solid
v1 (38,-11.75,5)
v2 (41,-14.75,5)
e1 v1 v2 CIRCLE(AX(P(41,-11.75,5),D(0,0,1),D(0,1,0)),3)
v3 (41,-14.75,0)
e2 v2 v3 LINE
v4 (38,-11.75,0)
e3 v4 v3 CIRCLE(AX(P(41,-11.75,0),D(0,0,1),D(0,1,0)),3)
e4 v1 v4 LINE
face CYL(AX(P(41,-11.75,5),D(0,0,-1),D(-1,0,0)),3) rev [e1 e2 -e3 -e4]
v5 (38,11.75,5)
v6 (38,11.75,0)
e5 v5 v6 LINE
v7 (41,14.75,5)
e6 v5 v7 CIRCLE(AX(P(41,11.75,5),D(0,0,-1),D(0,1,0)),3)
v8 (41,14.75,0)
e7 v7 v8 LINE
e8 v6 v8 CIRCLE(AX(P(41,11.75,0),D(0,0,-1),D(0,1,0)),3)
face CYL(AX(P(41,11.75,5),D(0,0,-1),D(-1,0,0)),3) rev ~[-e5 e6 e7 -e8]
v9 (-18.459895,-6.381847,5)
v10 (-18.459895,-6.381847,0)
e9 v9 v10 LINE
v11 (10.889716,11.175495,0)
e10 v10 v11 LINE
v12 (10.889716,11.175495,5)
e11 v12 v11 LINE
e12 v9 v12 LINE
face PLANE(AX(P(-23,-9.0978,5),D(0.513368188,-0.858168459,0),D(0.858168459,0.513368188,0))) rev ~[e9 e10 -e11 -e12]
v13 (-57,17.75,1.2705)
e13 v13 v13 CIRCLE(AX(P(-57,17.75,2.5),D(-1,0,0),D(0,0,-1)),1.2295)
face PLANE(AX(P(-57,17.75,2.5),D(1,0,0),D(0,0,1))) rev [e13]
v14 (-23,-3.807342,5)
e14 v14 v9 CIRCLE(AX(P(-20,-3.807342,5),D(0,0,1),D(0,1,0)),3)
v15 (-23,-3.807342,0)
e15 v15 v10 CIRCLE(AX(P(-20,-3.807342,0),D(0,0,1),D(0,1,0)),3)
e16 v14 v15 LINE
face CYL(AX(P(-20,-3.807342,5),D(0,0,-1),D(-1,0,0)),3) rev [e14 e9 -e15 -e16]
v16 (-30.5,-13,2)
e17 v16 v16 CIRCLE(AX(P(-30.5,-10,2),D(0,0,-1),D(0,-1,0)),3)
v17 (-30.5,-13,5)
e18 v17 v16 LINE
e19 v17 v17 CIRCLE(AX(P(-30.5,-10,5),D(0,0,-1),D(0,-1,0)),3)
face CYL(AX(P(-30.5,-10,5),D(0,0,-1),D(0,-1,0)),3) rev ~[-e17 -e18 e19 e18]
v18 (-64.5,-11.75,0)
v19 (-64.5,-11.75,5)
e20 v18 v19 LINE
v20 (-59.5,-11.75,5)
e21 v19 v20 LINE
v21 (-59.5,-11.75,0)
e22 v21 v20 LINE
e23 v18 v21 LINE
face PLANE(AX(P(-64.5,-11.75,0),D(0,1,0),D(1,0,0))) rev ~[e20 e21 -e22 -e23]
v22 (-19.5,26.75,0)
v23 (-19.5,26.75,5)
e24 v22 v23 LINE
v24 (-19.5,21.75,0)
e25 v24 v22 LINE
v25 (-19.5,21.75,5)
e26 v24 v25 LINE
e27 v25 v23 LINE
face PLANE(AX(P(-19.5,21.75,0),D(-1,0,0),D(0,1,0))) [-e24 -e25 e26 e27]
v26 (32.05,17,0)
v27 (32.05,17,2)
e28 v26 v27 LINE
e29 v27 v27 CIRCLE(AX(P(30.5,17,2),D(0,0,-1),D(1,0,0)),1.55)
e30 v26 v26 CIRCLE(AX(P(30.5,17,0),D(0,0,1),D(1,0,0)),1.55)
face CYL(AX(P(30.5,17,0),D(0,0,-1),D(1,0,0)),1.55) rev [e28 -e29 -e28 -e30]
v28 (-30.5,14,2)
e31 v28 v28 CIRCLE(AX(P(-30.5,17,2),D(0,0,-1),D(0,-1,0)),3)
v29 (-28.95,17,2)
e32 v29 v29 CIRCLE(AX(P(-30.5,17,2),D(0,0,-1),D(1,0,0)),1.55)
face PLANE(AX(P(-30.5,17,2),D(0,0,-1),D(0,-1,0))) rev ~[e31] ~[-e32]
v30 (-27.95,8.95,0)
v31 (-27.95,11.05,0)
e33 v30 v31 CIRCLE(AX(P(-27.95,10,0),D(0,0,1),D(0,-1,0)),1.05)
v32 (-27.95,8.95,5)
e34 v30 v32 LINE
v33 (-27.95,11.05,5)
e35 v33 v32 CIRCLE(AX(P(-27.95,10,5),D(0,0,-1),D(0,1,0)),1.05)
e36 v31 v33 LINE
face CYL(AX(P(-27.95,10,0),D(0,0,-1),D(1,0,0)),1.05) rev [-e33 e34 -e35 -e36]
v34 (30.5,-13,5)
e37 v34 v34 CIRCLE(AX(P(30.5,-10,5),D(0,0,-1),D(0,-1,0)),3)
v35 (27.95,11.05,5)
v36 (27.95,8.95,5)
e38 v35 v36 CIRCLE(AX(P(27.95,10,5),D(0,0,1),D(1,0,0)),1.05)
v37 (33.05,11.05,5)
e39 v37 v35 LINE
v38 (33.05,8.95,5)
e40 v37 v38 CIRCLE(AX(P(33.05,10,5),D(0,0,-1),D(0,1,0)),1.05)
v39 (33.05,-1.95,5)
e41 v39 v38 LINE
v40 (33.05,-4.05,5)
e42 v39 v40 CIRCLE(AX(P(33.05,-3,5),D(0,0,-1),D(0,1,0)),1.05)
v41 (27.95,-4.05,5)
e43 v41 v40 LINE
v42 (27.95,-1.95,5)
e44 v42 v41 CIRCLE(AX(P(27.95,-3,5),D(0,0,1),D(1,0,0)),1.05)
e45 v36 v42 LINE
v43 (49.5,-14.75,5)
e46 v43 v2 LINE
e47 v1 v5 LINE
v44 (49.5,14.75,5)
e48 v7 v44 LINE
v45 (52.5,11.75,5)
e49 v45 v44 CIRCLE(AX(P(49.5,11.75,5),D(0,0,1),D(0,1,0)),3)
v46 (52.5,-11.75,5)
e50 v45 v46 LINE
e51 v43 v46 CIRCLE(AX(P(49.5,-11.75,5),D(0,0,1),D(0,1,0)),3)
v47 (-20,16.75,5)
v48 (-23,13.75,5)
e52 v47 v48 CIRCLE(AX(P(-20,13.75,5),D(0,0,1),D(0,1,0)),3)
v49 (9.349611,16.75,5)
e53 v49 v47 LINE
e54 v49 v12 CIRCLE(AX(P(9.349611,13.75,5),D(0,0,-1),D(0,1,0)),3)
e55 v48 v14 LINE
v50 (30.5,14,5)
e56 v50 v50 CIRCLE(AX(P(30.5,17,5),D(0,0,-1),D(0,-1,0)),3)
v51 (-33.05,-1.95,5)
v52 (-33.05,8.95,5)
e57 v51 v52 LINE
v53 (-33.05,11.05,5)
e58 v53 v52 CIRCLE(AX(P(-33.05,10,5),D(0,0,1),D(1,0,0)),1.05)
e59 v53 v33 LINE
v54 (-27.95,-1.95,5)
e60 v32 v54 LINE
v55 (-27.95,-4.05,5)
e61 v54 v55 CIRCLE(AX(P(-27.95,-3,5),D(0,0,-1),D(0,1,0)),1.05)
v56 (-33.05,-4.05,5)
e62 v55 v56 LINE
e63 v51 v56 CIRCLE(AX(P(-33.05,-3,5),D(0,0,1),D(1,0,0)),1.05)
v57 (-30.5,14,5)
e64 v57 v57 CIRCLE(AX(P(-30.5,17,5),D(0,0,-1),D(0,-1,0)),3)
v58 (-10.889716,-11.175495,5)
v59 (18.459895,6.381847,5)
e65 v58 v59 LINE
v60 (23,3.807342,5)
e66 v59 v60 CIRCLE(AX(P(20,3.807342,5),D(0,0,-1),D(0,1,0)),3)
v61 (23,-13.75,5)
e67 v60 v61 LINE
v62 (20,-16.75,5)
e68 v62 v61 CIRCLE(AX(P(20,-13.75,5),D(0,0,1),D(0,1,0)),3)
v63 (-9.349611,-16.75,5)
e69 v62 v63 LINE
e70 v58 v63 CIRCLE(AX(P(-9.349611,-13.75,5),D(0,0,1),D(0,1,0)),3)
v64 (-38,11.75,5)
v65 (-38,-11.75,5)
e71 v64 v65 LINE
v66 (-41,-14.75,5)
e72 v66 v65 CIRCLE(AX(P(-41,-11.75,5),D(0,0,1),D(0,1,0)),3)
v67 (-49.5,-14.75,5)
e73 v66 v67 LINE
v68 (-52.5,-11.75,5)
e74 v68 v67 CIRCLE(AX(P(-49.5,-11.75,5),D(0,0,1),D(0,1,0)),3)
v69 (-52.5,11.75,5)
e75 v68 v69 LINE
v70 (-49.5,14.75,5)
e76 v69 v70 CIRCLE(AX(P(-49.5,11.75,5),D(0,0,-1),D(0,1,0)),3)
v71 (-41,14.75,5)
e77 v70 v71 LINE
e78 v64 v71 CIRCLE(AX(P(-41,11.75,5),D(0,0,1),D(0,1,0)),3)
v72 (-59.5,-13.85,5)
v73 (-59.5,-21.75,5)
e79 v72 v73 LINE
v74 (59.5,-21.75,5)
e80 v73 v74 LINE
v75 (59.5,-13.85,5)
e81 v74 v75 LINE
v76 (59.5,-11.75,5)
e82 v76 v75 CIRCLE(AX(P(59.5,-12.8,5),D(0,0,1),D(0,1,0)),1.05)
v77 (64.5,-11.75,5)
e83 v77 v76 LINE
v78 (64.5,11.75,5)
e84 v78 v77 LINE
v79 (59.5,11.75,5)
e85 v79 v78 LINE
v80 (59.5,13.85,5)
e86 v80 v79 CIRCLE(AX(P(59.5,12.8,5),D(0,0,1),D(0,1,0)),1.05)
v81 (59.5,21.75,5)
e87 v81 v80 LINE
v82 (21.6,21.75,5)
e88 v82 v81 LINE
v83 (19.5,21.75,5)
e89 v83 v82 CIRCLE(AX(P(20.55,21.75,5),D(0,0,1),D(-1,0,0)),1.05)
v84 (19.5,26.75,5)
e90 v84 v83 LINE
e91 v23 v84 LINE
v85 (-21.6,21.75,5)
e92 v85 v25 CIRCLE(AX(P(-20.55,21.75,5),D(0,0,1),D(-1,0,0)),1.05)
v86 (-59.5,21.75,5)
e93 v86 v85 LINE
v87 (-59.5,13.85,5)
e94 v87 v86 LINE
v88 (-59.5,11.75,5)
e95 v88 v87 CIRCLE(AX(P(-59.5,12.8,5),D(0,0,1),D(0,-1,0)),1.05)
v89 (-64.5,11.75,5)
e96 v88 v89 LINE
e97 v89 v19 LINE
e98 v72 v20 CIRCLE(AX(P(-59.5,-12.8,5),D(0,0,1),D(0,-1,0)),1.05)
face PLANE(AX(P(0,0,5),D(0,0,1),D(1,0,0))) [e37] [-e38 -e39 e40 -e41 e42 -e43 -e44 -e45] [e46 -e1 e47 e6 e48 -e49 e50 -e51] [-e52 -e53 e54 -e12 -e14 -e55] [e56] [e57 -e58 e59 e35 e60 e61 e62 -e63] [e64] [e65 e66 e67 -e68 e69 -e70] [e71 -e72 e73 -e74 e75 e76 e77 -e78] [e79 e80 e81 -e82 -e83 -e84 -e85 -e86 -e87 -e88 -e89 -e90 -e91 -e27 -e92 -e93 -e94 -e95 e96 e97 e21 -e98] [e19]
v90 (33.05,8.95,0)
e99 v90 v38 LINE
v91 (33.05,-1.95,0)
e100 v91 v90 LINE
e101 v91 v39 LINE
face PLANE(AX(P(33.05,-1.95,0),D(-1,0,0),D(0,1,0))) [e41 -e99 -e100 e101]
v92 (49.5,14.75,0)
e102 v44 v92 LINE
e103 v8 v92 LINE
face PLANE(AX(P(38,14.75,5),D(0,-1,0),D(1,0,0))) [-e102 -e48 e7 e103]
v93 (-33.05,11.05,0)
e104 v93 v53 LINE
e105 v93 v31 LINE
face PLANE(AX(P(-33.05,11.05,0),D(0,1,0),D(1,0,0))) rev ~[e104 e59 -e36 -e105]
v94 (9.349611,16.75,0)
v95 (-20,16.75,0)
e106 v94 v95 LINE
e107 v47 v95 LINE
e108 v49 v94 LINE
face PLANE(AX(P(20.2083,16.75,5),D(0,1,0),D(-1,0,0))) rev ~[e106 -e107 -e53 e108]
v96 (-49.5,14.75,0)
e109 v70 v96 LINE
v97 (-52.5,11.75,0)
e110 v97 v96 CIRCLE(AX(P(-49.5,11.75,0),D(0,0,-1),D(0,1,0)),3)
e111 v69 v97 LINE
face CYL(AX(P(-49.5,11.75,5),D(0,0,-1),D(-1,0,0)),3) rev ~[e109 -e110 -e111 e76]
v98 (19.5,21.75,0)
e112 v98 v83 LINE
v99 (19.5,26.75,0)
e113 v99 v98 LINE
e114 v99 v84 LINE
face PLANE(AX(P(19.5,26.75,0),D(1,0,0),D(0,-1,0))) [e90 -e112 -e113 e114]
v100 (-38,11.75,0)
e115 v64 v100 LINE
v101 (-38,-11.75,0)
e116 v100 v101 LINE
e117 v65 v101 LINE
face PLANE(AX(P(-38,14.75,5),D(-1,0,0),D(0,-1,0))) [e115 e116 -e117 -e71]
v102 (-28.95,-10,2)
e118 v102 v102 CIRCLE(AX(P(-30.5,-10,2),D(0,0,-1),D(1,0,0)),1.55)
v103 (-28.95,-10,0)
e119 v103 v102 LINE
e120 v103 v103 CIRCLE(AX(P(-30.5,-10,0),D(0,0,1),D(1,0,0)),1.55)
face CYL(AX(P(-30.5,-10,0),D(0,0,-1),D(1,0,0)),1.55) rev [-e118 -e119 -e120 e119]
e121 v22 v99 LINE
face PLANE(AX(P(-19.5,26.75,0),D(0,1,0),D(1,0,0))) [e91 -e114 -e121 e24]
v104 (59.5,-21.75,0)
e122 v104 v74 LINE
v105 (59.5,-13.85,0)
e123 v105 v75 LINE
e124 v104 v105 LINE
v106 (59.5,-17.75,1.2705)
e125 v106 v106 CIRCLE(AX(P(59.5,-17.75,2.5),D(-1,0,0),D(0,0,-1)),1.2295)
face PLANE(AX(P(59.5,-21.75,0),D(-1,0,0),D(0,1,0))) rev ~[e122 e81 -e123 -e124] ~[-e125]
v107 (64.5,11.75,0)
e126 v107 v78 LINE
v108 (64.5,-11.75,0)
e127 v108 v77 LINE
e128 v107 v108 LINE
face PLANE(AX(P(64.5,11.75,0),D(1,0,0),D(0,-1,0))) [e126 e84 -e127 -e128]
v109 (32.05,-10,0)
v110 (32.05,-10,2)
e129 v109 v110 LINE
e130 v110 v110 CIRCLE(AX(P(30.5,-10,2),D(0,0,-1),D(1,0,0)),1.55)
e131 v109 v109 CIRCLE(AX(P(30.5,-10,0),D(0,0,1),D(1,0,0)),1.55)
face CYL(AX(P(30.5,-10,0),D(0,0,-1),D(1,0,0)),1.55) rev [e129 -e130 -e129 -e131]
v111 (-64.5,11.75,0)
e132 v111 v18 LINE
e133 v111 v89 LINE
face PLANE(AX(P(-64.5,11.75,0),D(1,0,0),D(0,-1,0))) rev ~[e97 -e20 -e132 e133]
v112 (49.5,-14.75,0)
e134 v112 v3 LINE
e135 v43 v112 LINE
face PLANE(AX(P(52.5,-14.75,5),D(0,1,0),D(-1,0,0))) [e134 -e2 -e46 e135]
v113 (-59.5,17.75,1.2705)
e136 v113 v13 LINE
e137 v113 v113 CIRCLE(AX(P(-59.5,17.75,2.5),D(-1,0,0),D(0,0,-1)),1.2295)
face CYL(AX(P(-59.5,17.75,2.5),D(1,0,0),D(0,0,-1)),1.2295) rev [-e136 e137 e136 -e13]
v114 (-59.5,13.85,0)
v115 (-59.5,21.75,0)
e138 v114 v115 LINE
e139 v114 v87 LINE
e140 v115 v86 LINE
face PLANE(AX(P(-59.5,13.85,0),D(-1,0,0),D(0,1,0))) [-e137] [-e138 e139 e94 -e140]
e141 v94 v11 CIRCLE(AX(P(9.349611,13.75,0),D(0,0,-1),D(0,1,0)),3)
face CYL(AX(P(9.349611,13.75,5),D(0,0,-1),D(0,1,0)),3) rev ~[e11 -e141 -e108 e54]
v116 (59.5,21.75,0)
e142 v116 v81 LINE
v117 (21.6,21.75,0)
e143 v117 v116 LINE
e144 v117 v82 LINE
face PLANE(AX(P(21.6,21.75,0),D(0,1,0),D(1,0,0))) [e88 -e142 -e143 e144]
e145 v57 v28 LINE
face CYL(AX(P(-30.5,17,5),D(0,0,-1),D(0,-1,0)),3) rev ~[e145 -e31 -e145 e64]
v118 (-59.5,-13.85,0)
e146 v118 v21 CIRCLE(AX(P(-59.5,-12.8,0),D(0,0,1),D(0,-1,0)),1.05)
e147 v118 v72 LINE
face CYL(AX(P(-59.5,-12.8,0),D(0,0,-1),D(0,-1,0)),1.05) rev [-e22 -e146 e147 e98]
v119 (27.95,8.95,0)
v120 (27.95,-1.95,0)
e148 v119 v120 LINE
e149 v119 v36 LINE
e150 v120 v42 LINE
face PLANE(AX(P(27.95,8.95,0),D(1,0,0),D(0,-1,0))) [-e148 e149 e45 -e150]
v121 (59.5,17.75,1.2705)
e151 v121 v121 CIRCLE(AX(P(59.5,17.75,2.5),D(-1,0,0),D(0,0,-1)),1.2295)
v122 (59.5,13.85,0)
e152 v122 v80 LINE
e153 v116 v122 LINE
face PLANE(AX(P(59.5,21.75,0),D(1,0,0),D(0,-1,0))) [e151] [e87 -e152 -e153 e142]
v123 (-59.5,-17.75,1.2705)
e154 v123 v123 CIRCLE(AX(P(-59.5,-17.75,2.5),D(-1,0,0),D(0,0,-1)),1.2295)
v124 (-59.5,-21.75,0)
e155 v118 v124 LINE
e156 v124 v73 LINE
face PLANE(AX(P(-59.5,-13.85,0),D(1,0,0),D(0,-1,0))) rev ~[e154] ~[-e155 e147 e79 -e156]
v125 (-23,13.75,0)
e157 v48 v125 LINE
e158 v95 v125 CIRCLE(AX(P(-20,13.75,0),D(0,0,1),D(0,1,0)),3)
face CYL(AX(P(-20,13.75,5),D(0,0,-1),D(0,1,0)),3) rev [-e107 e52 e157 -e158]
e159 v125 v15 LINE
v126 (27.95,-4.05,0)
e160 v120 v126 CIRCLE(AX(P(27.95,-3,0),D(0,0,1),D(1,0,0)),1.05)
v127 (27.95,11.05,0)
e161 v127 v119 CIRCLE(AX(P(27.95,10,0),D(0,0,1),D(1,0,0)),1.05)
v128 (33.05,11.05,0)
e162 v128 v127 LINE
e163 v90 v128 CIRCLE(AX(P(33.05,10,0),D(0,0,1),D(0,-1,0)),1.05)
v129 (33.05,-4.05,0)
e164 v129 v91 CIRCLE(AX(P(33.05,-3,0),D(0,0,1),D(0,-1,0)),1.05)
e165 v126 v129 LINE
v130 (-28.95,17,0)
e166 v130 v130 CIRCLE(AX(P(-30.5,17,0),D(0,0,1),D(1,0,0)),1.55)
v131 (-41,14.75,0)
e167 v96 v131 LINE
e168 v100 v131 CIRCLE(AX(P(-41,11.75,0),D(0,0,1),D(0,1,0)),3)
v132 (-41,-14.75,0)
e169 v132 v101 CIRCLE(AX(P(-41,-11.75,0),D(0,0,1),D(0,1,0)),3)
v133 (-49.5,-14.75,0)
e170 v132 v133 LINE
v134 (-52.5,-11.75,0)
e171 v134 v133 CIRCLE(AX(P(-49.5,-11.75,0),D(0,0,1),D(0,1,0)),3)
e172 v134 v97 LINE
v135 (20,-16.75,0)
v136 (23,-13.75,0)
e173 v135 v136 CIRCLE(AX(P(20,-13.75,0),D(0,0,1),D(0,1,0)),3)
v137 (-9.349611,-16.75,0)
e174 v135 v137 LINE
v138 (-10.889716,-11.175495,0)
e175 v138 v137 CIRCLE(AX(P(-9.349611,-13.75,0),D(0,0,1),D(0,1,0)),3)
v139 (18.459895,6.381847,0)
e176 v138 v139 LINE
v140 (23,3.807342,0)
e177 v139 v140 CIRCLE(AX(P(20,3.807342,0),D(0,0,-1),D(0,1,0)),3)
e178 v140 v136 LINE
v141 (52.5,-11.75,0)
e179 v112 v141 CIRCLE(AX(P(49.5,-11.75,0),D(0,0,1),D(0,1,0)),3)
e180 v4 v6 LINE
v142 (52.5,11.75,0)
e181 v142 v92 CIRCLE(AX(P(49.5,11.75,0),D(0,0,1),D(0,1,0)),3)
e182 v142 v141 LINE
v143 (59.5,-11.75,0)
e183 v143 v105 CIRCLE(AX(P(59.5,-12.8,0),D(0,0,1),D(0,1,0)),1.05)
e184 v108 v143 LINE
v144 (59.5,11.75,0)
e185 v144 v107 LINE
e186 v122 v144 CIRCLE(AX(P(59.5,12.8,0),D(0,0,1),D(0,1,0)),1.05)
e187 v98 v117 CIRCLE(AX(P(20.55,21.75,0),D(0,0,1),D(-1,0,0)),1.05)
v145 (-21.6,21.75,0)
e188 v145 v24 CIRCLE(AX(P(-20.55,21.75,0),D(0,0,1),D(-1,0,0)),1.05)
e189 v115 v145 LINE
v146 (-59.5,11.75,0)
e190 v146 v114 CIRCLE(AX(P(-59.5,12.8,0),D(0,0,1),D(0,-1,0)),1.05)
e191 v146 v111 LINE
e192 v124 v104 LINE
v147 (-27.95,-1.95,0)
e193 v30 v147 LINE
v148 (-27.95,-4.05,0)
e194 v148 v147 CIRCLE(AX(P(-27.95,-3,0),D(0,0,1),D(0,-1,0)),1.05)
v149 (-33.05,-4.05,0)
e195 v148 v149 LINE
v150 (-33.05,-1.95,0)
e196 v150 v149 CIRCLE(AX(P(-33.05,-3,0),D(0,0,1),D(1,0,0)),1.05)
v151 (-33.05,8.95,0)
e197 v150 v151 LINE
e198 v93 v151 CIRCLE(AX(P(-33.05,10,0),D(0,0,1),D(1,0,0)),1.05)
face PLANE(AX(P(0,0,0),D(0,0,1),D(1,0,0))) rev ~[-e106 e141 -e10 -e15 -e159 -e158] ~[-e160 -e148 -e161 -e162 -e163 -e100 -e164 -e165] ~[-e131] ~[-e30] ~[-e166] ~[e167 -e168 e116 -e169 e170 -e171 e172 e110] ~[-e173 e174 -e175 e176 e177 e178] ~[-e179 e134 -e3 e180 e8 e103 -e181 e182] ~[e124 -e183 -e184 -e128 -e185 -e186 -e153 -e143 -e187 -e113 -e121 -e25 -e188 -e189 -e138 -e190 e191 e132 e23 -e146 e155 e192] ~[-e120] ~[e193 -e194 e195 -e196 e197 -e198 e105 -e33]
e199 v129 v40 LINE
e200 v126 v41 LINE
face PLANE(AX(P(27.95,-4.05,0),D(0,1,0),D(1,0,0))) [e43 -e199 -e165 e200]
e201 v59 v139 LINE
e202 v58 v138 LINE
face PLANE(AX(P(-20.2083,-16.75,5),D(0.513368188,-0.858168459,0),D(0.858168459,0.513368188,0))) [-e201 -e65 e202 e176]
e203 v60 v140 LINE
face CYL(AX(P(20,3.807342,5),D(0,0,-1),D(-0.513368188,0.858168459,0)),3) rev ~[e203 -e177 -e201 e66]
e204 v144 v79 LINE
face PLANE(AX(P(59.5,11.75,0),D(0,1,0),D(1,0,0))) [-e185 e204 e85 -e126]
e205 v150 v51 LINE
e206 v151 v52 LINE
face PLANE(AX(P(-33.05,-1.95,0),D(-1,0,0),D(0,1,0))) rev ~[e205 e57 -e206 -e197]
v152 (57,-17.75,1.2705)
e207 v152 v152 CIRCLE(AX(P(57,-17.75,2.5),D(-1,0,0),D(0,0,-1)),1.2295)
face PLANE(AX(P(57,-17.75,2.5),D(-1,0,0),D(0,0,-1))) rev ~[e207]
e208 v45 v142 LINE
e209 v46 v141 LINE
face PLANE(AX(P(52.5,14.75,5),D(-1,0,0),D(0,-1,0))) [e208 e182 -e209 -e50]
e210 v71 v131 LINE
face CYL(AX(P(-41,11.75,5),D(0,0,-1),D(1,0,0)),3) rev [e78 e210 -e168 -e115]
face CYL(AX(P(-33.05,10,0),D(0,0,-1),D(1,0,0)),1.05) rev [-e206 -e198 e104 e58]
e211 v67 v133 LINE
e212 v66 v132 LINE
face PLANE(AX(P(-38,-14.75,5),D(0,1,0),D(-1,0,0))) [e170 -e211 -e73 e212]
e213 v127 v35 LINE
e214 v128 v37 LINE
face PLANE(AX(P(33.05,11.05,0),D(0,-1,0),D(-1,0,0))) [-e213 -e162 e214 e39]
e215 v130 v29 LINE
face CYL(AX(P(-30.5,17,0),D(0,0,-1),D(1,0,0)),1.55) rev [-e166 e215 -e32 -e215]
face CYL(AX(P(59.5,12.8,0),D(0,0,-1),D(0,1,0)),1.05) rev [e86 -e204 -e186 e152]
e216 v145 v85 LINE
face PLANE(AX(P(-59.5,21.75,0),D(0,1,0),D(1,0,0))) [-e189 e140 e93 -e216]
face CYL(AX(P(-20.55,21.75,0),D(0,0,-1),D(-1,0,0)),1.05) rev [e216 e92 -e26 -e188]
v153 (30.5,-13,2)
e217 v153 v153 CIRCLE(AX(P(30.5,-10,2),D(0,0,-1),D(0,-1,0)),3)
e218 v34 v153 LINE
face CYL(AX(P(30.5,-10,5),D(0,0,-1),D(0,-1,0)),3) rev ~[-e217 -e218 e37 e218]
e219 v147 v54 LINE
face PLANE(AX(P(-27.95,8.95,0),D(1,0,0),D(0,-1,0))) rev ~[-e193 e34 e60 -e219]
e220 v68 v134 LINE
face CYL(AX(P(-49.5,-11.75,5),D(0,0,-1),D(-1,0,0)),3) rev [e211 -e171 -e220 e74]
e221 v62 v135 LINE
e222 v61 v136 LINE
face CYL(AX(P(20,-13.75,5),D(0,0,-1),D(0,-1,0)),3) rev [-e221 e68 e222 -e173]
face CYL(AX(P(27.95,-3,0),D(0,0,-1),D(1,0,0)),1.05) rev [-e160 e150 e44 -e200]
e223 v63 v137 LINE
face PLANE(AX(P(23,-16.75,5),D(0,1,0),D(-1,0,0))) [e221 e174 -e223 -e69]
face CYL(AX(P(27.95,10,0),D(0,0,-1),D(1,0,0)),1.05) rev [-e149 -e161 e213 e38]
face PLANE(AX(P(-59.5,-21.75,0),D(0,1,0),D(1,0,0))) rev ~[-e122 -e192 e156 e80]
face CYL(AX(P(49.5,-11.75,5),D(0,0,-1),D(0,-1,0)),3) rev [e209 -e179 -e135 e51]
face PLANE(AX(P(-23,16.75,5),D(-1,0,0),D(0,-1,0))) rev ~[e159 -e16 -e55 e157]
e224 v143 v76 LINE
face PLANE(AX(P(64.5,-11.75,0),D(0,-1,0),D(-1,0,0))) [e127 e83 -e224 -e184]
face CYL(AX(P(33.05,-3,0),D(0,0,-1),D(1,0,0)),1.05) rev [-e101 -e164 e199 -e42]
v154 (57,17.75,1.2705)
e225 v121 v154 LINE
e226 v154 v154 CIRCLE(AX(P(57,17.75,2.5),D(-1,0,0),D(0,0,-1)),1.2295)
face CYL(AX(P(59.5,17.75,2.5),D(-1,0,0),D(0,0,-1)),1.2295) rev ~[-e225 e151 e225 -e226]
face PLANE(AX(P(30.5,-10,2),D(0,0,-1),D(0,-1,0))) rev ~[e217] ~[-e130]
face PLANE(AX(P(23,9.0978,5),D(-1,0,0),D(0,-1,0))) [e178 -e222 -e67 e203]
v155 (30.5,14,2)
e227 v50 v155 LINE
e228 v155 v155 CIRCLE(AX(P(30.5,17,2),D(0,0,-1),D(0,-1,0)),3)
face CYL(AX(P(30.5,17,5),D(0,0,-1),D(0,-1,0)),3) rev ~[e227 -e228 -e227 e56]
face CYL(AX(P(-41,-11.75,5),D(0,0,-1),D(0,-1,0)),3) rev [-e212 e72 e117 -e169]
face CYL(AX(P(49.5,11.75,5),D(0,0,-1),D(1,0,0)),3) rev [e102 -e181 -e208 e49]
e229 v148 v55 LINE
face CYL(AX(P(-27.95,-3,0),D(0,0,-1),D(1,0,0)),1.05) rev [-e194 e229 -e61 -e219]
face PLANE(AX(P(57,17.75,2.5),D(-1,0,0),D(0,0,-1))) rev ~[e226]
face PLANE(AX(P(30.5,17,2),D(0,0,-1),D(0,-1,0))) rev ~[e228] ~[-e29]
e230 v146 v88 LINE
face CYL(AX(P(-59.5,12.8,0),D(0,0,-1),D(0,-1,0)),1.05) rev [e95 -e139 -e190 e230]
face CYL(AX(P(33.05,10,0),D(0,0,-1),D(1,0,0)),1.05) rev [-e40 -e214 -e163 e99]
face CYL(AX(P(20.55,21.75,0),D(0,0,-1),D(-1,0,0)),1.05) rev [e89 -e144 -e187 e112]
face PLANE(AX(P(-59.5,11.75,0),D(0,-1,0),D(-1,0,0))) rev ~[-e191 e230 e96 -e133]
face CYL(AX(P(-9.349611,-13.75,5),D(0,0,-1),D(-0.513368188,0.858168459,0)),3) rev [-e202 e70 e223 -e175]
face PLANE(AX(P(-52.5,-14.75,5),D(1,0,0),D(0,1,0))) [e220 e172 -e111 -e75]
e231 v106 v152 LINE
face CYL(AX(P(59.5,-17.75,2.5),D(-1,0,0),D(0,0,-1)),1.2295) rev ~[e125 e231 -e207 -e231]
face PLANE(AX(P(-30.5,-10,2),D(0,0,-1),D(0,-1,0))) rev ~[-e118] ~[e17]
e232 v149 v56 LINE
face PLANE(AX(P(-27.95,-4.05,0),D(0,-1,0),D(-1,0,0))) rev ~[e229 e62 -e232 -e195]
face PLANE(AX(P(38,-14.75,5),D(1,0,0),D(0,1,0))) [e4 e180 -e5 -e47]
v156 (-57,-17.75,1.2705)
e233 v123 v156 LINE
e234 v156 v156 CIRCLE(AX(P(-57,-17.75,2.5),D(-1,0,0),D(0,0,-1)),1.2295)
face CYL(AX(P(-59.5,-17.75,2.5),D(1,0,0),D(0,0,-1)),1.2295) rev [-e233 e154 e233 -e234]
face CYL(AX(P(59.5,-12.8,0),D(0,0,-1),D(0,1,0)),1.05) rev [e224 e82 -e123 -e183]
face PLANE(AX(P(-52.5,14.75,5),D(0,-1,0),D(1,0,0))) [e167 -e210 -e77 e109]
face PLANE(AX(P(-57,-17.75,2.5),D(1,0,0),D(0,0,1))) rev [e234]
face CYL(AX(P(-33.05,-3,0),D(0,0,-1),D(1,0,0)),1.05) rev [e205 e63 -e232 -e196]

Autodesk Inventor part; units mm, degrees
ref_plane "YZ Plane" through (0, 0, 0) normal (1, 0, 0) x (0, 1, 0)
ref_plane "XZ Plane" through (0, 0, 0) normal (0, 1, 0) x (-1, 0, 0)
ref_plane "XY Plane" through (0, 0, 0) normal (0, 0, 1) x (1, 0, 0)
sketch "スケッチ1" plane through (0, 0, 0) normal (0, 0, 1) x (1, 0, 0)
  line L0 (-59.5, -21.75) -> (59.5, -21.75) construction
  line L1 (59.5, -21.75) -> (59.5, 21.75) construction
  line L2 (59.5, 21.75) -> (-59.5, 21.75) construction
  line L3 (-59.5, 21.75) -> (-59.5, -21.75) construction
  line L4 (-59.5, -21.75) -> (59.5, 21.75) construction
  line L5 (59.5, -21.75) -> (-59.5, 21.75) construction
  line L6 (-54.5, -16.75) -> (54.5, -16.75) construction
  line L7 (54.5, -16.75) -> (54.5, 16.75) construction
  line L8 (54.5, 16.75) -> (-54.5, 16.75) construction
  line L9 (-54.5, 16.75) -> (-54.5, -16.75) construction
  line L10 (-54.5, -16.75) -> (54.5, 16.75) construction
  line L11 (54.5, -16.75) -> (-54.5, 16.75) construction
  line L12 (-33.05, 11.05) -> (-27.95, 11.05)
  line L13 (-27.95, 11.05) -> (-27.95, -4.05)
  line L14 (-27.95, -4.05) -> (-33.05, -4.05)
  line L15 (-33.05, -4.05) -> (-33.05, 11.05)
  line L16 (-28, 11) -> (-33, 11) construction
  line L17 (-33, 11) -> (-33, -4) construction
  line L18 (-33, -4) -> (-28, -4) construction
  line L19 (-28, -4) -> (-28, 11) construction
  line L20 (-30.5, 11) -> (-30.5, -4) construction
  line L21 (-33, 21) -> (-28, 21) construction
  line L22 (-28, 21) -> (-28, -14) construction
  line L23 (-28, -14) -> (-33, -14) construction
  line L24 (-33, -14) -> (-33, 21) construction
  circle A0 centre (-30.5, 17) radius 1.55
  circle A1 centre (-30.5, -10) radius 1.55
  circle A2 centre (-33.05, 10) radius 1.05
  circle A3 centre (-27.95, 10) radius 1.05
  circle A4 centre (-33.05, -3) radius 1.05
  circle A5 centre (-27.95, -3) radius 1.05
  line L25 (0, 0) -> (0, 16.75) construction
  line L26 (0, 0) -> (54.5, 0) construction
  circle A6 centre (30.5, 17) radius 1.55
  circle A7 centre (30.5, -10) radius 1.55
  circle A8 centre (27.95, 10) radius 1.05
  circle A9 centre (33.05, 10) radius 1.05
  circle A10 centre (27.95, -3) radius 1.05
  circle A11 centre (33.05, -3) radius 1.05
  line L27 (33.05, 11.05) -> (27.95, 11.05)
  line L28 (27.95, 11.05) -> (27.95, -4.05)
  line L29 (27.95, -4.05) -> (33.05, -4.05)
  line L30 (33.05, -4.05) -> (33.05, 11.05)
  line L31 (-59.5, 11.75) -> (-64.5, 11.75)
  line L32 (-64.5, 11.75) -> (-64.5, -11.75)
  line L33 (-64.5, -11.75) -> (-59.5, -11.75)
  line L34 (-59.5, 13.85) -> (-59.5, 21.75)
  line L35 (-59.5, 21.75) -> (-21.6, 21.75)
  line L36 (-19.5, 21.75) -> (-19.5, 26.75)
  line L37 (-19.5, 26.75) -> (19.5, 26.75)
  line L38 (19.5, 26.75) -> (19.5, 21.75)
  line L39 (21.6, 21.75) -> (59.5, 21.75)
  line L40 (59.5, 21.75) -> (59.5, 13.85)
  line L41 (59.5, 11.75) -> (64.5, 11.75)
  line L42 (64.5, 11.75) -> (64.5, -11.75)
  line L43 (64.5, -11.75) -> (59.5, -11.75)
  line L44 (-59.5, -13.85) -> (-59.5, -21.75)
  line L45 (-59.5, -21.75) -> (59.5, -21.75)
  line L46 (59.5, -21.75) -> (59.5, -13.85)
  arc A12 (-59.5, 11.75) -> (-59.5, 13.85) centre (-59.5, 12.8) ccw
  arc A13 (-59.5, -13.85) -> (-59.5, -11.75) centre (-59.5, -12.8) ccw
  line L47 (0, 0) -> (-54.5, 0) construction
  arc A14 (59.5, -11.75) -> (59.5, -13.85) centre (59.5, -12.8) ccw
  arc A15 (59.5, 13.85) -> (59.5, 11.75) centre (59.5, 12.8) ccw
  arc A16 (-21.6, 21.75) -> (-19.5, 21.75) centre (-20.55, 21.75) ccw
  arc A17 (19.5, 21.75) -> (21.6, 21.75) centre (20.55, 21.75) ccw
  line L48 (-56.8855, 19.3) -> (-54.5, 19.3) construction
  line L49 (-54.5, 19.3) -> (-54.5, 16.2) construction
  line L50 (-54.5, 16.2) -> (-56.8855, 16.2) construction
  line L51 (-56.8855, 16.2) -> (-56.8855, 19.3) construction
  line L52 (-54.5, 17.75) -> (-56.8855, 17.75) construction
  line L53 (-53.05, 22.7202) -> (-49.95, 22.7202) construction
  line L54 (-49.95, 22.7202) -> (-49.95, 16.75) construction
  line L55 (-49.95, 16.75) -> (-53.05, 16.75) construction
  line L56 (-53.05, 16.75) -> (-53.05, 22.7202) construction
  line L57 (-51.5, 22.7202) -> (-51.5, 16.75) construction
  point P0 (-30.5, -14)
  dimension "d10" = 2.1
  dimension "d0" = 33.5
  dimension "d1" = 5
  dimension "d2" = 109
  dimension "d3" = 5
  dimension "d4" = 0.05
  dimension "d5" = 35
  dimension "d6" = 27
  dimension "d7" = 5
  dimension "d11" = 33
  dimension "d12" = 3.1
  dimension "d13" = 1.05
  dimension "d14" = 5
  dimension "d15" = 4
  dimension "d16" = 3.1
  dimension "d17" = 10
  dimension "d18" = 5
  dimension "d19" = 8
  dimension "d20" = 5
  dimension "d21" = 40
  dimension "d22" = 5
  dimension "d50" = 4
  dimension "d51" = 10
  dimension "d52" = 17
  dimension "d53" = 10
extrude "押し出し1" add sketch "スケッチ1" along normal blind 5
sketch "スケッチ2" plane through (0, 0, 5) normal (0, 0, 1) x (1, 0, 0)
  circle A0 centre (30.5, -10) radius 1.55 projected
  circle A1 centre (30.5, 17) radius 1.55 projected
  circle A2 centre (-30.5, -10) radius 1.55 projected
  circle A3 centre (-30.5, 17) radius 1.55 projected
  point P0 (0, 0)
hole "穴1" at (-30.5, 17, 5) at (-30.5, -10, 5) at (30.5, 17, 5) at (30.5, -10, 5) direction (0, 0, -1) diameter 6 depth 3
sketch "スケッチ3" plane through (59.5, -21.75, 0) normal (1, 0, 0) x (0, 0, -1)
  line L0 (0, 0) -> (-5, 0) projected
  line L1 (0, 43.5) -> (-5, 43.5) projected
  point P0 (0, 21.75)
  point P1 (-2.5, 4)
  point P2 (-2.5, 39.5)
  point P3 (-2.5, 0)
  dimension "d32" = 4
  dimension "d33" = 4
hole "穴2" at (59.5, -17.75, 2.5) at (59.5, 17.75, 2.5) direction (-1, 0, 0) diameter 2.459 depth 2.5 thread size "M3x0.5" class "6H" standard "ISO Metric profile"
mirror "ミラー1" about plane through (0, 0, 0) normal (1, 0, 0) of "穴2"
sketch "スケッチ5" plane through (0, 0, 5) normal (0, 0, 1) x (1, 0, 0)
  line L0 (27.95, -1.95) -> (27.95, 8.95) projected
  line L1 (-33.05, -1.95) -> (-33.05, 8.95) projected
  line L2 (-27.95, 8.95) -> (-27.95, -1.95) projected
  line L3 (-59.5, -21.75) -> (59.5, -21.75) projected
  line L4 (19.5, 26.75) -> (-19.5, 26.75) projected
  line L5 (-21.6, 21.75) -> (-59.5, 21.75) projected
  line L6 (-59.5, 21.75) -> (-59.5, 13.85) projected
  line L7 (-52.5, 14.75) -> (-38, 14.75)
  line L8 (-38, 14.75) -> (-38, -14.75)
  line L9 (-38, -14.75) -> (-52.5, -14.75)
  line L10 (-52.5, -14.75) -> (-52.5, 14.75)
  line L11 (38, 14.75) -> (52.5, 14.75)
  line L12 (52.5, 14.75) -> (52.5, -14.75)
  line L13 (52.5, -14.75) -> (38, -14.75)
  line L14 (38, -14.75) -> (38, 14.75)
  line L15 (-23, 16.75) -> (-23, -9.0978)
  line L16 (-23, -9.0978) -> (20.2083, 16.75)
  line L17 (20.2083, 16.75) -> (-23, 16.75)
  line L18 (23, 9.0978) -> (23, -16.75)
  line L19 (23, -16.75) -> (-20.2083, -16.75)
  line L20 (-20.2083, -16.75) -> (23, 9.0978)
  line L21 (-33, 9.2736) -> (-28, 9.2736) construction
  line L22 (-28, 9.2736) -> (-28, -5.1442) construction
  line L23 (-28, -5.1442) -> (-33, -5.1442) construction
  line L24 (-33, -5.1442) -> (-33, 9.2736) construction
  line L25 (0, 0) -> (0, 26.75) construction
  line L26 (28, 10.3975) -> (29.3974, 10.3975) construction
  line L27 (29.3974, 10.3975) -> (29.3974, -4.5864) construction
  line L28 (29.3974, -4.5864) -> (28, -4.5864) construction
  line L29 (28, -4.5864) -> (28, 10.3975) construction
  line L30 (28, 16.75) -> (-28, -16.75) construction
  line L31 (-28, 16.75) -> (28, 16.75) construction
  line L32 (28, 16.75) -> (28, -16.75) construction
  line L33 (28, -16.75) -> (-28, -16.75) construction
  line L34 (-28, -16.75) -> (-28, 16.75) construction
  line L35 (59.5, 21.75) -> (21.6, 21.75) projected
  dimension "d54" = 7
  dimension "d55" = 7
  dimension "d56" = 7
  dimension "d57" = 0.05
  dimension "d58" = 5
  dimension "d59" = 0.05
  dimension "d60" = 5
  dimension "d62" = 5
  dimension "d63" = 0.05
  dimension "d64" = 8
  dimension "d68" = 5
extrude "押し出し2" cut sketch "スケッチ5" against normal blind 10
fillet "フィレット1" radius 3 14 edges at (-38, 14.75, 2.5) (-52.5, 14.75, 2.5) (-52.5, -14.75, 2.5) (-38, -14.75, 2.5) (-23, -9.0978, 2.5) (-23, 16.75, 2.5) (20.2083, 16.75, 2.5) (23, 9.0978, 2.5) (-20.2083, -16.75, 2.5) (23, -16.75, 2.5) (38, -14.75, 2.5) (52.5, -14.75, 2.5) (52.5, 14.75, 2.5) (38, 14.75, 2.5)
equation "\"d20\" = d18"
equation "\"d53\" = d51"
equation "\"d32\" = d15"
equation "\"d33\" = d32"
equation "\"d56\" = d55"
equation "\"d59\" = d57"
equation "\"d60\" = d58"
properties part number "コックピット_サブフレーム_1_3" material "アセタール樹脂、黒"
